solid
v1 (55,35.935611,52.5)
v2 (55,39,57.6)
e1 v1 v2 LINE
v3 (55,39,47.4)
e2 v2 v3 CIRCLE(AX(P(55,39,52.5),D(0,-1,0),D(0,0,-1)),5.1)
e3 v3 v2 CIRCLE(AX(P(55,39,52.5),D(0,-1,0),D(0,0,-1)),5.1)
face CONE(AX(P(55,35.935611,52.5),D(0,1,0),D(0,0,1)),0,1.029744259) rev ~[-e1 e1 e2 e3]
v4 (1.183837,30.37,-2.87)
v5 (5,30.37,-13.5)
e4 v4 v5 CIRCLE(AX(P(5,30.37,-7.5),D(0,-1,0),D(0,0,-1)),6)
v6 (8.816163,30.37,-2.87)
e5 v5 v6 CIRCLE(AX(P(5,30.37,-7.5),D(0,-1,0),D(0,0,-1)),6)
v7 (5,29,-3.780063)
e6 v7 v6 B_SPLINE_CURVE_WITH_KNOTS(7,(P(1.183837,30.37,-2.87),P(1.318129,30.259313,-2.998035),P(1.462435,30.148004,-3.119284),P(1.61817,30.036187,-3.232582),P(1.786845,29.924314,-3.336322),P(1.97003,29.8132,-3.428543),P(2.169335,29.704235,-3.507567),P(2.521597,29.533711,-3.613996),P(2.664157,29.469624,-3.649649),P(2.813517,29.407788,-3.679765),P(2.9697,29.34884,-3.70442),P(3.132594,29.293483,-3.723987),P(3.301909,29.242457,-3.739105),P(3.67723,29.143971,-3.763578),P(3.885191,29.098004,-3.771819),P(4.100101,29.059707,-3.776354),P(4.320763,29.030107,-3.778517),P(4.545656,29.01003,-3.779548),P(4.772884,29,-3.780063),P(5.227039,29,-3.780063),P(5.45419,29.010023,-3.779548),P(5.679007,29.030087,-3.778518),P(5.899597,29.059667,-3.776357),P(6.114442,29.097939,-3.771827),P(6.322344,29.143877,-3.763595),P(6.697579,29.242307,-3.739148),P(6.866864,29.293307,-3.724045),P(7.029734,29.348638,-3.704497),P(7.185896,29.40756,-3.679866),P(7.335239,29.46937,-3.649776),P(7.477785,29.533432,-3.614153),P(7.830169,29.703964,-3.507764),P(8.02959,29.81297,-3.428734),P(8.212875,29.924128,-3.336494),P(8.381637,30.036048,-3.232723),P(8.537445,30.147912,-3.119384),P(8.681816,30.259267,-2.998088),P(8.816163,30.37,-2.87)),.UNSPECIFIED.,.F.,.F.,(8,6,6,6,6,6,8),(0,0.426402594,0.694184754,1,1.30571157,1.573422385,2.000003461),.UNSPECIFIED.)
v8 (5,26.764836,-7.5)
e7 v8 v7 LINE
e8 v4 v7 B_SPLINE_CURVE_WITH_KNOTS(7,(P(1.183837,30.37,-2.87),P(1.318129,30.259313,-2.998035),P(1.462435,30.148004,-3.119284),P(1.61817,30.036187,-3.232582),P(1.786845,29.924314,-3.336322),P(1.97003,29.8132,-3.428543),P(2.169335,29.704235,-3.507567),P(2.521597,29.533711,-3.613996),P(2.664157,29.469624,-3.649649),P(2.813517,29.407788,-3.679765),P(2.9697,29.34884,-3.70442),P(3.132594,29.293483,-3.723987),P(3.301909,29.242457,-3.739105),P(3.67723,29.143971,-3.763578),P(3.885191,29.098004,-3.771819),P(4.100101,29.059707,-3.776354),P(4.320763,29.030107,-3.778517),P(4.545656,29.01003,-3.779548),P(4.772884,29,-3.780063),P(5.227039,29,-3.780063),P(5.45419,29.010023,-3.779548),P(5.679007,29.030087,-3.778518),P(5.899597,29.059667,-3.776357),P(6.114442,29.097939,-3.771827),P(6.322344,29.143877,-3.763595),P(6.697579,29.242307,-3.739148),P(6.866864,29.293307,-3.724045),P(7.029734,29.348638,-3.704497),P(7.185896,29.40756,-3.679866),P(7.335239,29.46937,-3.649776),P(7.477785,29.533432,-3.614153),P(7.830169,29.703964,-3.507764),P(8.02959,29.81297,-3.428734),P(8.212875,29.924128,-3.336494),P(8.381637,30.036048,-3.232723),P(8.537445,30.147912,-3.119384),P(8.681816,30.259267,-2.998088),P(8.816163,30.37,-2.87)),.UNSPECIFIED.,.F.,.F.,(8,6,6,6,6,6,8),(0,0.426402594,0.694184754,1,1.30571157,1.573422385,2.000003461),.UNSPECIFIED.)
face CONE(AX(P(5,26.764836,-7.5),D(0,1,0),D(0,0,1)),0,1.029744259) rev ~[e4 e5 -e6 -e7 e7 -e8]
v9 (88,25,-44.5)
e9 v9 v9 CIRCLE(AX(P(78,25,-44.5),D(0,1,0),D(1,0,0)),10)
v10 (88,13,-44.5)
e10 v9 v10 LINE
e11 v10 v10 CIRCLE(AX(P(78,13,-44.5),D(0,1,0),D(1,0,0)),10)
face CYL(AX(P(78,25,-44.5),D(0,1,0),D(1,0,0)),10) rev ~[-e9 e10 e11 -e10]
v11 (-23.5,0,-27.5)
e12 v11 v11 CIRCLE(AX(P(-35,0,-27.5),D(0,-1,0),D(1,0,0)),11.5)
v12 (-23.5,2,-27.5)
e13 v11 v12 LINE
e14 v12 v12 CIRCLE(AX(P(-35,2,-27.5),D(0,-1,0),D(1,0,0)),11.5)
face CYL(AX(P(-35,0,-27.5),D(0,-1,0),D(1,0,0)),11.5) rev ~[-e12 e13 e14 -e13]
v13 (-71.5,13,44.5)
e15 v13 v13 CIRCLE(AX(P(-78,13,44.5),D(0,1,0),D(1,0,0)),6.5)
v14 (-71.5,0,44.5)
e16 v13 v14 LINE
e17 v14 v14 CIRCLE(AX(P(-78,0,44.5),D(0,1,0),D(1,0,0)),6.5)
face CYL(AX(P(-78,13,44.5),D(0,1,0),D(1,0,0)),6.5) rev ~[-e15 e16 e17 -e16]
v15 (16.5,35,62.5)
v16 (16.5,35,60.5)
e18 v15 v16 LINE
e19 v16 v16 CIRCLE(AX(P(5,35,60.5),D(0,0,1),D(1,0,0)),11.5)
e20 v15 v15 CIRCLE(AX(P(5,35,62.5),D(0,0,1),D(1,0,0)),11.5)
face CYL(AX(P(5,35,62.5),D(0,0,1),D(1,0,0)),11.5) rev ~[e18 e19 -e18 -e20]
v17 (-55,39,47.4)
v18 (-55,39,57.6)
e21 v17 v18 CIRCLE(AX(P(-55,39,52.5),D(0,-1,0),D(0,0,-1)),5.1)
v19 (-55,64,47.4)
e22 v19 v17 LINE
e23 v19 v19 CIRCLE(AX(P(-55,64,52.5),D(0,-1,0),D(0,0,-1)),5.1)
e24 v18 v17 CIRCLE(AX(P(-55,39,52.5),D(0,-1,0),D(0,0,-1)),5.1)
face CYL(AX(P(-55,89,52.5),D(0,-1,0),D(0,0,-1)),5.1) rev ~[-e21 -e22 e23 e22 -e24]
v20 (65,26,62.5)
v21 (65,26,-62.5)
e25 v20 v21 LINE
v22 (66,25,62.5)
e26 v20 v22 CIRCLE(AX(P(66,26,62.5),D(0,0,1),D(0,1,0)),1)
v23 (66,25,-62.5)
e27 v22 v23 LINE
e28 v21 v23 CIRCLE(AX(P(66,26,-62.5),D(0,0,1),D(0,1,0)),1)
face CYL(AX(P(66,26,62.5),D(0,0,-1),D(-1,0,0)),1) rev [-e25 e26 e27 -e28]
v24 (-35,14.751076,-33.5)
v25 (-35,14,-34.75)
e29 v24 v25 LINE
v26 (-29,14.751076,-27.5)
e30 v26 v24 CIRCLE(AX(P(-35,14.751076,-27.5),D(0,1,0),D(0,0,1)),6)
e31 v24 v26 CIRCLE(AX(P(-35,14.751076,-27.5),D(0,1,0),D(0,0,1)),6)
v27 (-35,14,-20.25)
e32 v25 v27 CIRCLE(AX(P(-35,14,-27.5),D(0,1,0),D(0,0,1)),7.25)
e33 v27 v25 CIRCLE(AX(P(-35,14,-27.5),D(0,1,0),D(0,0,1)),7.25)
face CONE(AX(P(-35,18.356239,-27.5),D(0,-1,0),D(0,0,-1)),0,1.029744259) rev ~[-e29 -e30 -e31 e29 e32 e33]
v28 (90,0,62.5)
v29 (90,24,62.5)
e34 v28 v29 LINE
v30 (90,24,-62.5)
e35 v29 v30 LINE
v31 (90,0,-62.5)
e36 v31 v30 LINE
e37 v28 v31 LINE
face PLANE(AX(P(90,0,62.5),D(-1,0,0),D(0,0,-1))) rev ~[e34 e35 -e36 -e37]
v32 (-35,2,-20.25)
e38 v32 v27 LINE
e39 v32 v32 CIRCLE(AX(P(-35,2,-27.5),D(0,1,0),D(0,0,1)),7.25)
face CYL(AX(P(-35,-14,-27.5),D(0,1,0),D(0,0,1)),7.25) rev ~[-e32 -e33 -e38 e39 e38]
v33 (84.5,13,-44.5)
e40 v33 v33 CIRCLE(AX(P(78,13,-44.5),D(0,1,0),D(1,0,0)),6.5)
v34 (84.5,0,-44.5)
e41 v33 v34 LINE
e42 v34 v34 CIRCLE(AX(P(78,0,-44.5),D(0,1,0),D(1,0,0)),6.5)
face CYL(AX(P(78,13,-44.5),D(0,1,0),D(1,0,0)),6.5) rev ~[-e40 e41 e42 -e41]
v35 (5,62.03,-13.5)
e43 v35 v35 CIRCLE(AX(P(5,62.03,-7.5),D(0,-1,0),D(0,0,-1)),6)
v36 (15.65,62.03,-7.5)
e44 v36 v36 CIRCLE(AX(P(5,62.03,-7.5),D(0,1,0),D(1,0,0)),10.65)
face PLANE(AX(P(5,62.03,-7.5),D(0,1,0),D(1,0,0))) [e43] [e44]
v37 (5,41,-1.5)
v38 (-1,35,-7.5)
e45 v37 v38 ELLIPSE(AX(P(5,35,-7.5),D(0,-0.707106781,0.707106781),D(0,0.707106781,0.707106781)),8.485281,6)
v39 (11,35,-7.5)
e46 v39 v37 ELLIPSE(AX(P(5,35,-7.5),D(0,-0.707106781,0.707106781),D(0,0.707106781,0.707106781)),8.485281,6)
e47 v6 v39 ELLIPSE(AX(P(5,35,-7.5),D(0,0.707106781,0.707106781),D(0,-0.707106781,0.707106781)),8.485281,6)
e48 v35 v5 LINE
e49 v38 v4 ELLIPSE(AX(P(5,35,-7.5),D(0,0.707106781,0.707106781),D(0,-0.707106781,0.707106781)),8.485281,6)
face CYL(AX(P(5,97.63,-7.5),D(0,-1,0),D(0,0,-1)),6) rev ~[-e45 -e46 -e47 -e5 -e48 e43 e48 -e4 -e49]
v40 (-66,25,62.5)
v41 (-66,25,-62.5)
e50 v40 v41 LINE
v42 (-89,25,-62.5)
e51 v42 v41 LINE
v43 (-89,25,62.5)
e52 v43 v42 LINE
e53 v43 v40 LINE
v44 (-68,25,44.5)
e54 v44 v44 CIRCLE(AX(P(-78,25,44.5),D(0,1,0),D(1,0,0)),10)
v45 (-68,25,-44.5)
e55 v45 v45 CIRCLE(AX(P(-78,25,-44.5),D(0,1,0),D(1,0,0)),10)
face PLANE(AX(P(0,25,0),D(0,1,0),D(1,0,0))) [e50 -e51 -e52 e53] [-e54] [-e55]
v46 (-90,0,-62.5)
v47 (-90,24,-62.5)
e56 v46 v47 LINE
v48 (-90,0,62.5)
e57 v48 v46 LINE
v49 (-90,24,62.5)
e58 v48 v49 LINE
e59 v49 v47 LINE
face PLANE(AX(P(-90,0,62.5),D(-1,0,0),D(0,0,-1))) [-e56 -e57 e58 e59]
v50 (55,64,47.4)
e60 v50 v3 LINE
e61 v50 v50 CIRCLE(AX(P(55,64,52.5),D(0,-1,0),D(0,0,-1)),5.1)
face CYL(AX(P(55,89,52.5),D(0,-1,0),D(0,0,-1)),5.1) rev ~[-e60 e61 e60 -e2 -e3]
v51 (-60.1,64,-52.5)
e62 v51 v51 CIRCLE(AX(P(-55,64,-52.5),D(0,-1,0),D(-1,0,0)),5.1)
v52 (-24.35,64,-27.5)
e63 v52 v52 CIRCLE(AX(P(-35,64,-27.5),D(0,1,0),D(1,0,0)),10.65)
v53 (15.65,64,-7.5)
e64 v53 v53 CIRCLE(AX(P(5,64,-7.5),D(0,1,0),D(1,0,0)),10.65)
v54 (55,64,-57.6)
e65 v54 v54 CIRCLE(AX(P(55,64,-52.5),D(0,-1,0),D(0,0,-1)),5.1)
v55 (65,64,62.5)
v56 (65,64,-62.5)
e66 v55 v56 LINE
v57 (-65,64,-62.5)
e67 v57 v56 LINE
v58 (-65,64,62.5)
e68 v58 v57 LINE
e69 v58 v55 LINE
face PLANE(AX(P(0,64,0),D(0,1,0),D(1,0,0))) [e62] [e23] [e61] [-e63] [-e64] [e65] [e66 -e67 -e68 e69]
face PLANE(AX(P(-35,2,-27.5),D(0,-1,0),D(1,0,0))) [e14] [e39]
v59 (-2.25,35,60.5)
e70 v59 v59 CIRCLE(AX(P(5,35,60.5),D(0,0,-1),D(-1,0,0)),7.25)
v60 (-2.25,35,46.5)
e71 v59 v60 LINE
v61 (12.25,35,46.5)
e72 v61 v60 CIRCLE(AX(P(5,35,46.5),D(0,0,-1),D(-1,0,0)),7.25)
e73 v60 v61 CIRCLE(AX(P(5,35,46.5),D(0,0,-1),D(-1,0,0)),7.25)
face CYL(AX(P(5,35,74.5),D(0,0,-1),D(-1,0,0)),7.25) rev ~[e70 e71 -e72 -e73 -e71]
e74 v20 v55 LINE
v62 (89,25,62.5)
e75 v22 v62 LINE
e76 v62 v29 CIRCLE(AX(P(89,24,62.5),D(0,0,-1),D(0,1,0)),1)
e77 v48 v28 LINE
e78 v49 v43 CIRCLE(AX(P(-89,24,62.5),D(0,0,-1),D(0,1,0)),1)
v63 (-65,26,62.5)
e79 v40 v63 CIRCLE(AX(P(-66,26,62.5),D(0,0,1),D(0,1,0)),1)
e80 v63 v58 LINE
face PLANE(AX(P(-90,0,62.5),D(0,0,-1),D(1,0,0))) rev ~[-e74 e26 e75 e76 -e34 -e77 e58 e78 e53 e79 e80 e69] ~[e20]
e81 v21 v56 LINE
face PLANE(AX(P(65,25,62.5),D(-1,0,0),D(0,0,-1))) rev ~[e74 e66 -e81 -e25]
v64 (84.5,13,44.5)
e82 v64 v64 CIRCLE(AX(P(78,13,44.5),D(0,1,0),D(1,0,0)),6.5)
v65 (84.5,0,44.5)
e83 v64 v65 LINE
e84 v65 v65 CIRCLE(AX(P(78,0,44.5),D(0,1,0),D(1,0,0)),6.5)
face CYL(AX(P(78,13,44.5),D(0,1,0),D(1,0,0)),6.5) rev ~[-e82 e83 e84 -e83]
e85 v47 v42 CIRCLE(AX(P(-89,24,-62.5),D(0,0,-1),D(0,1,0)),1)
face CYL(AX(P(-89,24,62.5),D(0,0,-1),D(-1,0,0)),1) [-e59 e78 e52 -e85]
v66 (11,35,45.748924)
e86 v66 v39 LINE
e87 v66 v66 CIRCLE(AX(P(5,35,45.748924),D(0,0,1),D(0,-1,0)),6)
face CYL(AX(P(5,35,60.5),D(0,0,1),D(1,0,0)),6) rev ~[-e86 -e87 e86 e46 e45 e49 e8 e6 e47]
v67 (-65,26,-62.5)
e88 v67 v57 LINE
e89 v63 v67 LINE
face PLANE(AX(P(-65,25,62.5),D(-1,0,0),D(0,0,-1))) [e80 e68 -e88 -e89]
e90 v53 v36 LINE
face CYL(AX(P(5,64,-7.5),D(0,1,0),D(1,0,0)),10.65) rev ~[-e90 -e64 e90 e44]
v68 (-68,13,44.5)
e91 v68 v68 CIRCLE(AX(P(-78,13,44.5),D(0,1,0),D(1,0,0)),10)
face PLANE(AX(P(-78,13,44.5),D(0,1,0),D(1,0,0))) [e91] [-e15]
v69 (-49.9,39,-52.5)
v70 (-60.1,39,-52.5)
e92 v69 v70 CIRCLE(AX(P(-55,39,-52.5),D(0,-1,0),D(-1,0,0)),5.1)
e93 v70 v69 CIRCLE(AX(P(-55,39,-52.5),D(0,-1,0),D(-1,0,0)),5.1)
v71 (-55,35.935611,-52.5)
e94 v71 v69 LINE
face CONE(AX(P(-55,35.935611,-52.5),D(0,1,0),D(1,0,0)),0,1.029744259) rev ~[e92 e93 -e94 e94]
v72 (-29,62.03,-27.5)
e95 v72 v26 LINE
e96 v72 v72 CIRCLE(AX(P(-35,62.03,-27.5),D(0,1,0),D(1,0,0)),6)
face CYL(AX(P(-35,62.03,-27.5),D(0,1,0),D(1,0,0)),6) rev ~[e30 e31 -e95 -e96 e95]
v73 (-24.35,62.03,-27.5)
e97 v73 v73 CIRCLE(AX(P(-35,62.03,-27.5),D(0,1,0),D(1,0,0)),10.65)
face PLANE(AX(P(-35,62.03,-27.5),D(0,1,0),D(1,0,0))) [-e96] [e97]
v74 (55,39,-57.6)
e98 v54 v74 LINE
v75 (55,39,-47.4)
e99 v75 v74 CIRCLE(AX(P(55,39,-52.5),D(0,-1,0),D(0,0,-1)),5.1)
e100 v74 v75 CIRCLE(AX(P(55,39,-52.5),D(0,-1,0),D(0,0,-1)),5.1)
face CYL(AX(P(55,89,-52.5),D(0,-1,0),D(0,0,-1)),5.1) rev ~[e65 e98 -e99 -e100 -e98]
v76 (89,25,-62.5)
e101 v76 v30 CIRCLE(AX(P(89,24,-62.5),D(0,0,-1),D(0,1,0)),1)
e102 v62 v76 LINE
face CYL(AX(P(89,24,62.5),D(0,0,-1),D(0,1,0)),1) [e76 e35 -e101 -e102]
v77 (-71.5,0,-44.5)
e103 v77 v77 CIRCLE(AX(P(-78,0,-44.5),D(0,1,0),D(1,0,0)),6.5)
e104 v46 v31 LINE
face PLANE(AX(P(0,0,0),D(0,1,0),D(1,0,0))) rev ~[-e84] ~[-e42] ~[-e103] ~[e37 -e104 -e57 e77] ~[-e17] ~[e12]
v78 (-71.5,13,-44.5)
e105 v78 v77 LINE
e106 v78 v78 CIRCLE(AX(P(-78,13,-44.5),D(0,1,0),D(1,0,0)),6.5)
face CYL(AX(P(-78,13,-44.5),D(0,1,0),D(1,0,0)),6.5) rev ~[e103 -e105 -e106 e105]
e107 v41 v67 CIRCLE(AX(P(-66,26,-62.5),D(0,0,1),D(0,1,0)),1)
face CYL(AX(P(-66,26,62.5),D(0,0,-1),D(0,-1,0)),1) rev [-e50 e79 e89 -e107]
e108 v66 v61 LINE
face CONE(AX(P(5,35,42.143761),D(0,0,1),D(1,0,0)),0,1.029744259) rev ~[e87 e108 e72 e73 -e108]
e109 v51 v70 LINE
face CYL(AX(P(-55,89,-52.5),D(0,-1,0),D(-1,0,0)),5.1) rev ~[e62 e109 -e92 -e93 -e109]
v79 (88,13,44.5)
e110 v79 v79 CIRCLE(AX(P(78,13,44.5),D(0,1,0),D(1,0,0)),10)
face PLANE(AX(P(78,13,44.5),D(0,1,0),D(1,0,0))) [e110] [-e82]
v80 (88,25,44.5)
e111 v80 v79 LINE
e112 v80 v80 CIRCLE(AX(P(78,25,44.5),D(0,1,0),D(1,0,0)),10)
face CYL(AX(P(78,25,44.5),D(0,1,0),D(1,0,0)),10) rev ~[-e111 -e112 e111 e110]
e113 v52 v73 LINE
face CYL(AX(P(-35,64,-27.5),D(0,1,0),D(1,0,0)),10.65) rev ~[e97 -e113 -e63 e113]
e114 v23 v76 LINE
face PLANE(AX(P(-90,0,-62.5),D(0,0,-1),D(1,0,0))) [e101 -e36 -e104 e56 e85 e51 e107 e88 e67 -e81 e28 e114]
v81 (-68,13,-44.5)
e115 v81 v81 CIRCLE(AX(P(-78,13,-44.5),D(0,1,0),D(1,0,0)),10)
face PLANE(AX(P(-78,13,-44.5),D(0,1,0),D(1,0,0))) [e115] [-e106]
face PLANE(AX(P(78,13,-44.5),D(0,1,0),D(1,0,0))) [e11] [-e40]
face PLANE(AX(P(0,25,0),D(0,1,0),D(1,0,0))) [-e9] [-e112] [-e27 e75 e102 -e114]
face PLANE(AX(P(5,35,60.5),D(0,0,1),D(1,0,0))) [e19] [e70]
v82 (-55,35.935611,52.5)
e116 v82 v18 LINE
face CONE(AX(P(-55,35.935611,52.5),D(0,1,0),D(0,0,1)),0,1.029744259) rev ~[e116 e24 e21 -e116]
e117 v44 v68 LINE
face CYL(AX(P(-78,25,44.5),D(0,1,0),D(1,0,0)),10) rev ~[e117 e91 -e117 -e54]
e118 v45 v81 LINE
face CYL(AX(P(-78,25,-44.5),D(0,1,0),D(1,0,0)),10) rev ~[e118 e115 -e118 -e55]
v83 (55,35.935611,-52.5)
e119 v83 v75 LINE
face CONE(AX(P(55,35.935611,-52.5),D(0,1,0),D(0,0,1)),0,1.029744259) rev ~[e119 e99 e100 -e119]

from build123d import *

# Parameters (mm, degrees)
SKETCH_1_W              = 180
SKETCH_1_H              = 125
EXTRUDE_1_DEPTH         = 25
SKETCH_2_W              = 130
SKETCH_2_H              = 125
EXTRUDE_2_DEPTH         = 39
SKETCH_3_R              = 10
CUT_EXTRUDE_1_DEPTH     = 12
SKETCH_4_R              = 10
CUT_EXTRUDE_2_DEPTH     = 12
SKETCH_6_R              = 10
CUT_EXTRUDE_3_DEPTH     = 12
SKETCH_7_R              = 10
CUT_EXTRUDE_4_DEPTH     = 12
SKETCH_9_R              = 6.5
CUT_EXTRUDE_6_DEPTH     = 13
SKETCH_10_R             = 6.5
CUT_EXTRUDE_7_DEPTH     = 13
SKETCH_11_R             = 6.5
CUT_EXTRUDE_8_DEPTH     = 13
SKETCH_12_R             = 6.5
CUT_EXTRUDE_9_DEPTH     = 13
HOLE_WIZARD_M12_1_D     = 10.2
HOLE_WIZARD_M12_1_DEPTH = 25
HOLE_WIZARD_M12_1_TIP   = 3.064389157
HOLE_WIZARD_M12_2_D     = 10.2
HOLE_WIZARD_M12_2_DEPTH = 25
HOLE_WIZARD_M12_2_TIP   = 3.064389157
HOLE_WIZARD_M12_3_D     = 10.2
HOLE_WIZARD_M12_3_DEPTH = 25
HOLE_WIZARD_M12_3_TIP   = 3.064389157
HOLE_WIZARD_M12_4_D     = 10.2
HOLE_WIZARD_M12_4_DEPTH = 25
HOLE_WIZARD_M12_4_TIP   = 3.064389157
SKETCH_23_R             = 10.65
CUT_EXTRUDE_12_DEPTH    = 2
HOLE_WIZARD_M12_5_D     = 10.2
HOLE_WIZARD_M12_5_DEPTH = 25
HOLE_WIZARD_M12_5_TIP   = 3.064389157
HOLE_WIZARD_M12_6_D     = 10.2
HOLE_WIZARD_M12_6_DEPTH = 25
HOLE_WIZARD_M12_6_TIP   = 3.064389157
HOLE_WIZARD_M12_7_D     = 10.2
HOLE_WIZARD_M12_7_DEPTH = 25
HOLE_WIZARD_M12_7_TIP   = 3.064389157
FILLET_7_R              = 1
FILLET_8_R              = 1
FILLET_10_R             = 1
SKETCH_33_R             = 10.65
CUT_EXTRUDE_13_DEPTH    = 1.97
SKETCH_36_R             = 11.5
CUT_EXTRUDE_15_DEPTH    = 2
M16X1_5_2_D             = 14.5
M16X1_5_2_DEPTH         = 14
M16X1_5_2_TIP           = 4.356239488
SKETCH_38_R             = 6
CUT_EXTRUDE_16_DEPTH    = 63.03
MM_1_D                  = 12
MM_1_DEPTH              = 33.63
MM_1_TIP                = 3.605163714
SKETCH_41_R             = 11.5
CUT_EXTRUDE_17_DEPTH    = 2
SKETCH_39_R             = 10.65
CUT_EXTRUDE_18_DEPTH    = 1.97
CUT_EXTRUDE_19_REACH    = 125
SKETCH_42_R             = 6
M16X1_5_3_D             = 14.5
M16X1_5_3_DEPTH         = 14
M16X1_5_3_TIP           = 4.356239488
FILLET_11_R             = 1


with BuildPart() as part:
    # 草图1 → 凸台-拉伸1 (new body)
    with BuildSketch(Plane(origin=(0, 0, 0), x_dir=(1, 0, 0), z_dir=(0, 1, 0))):
        Rectangle(SKETCH_1_W, SKETCH_1_H)
    extrude(amount=EXTRUDE_1_DEPTH)

    # 草图2 → 凸台-拉伸2 (add)
    with BuildSketch(Plane(origin=(0, 25, 0), x_dir=(1, 0, 0), z_dir=(0, 1, 0))):
        Rectangle(SKETCH_2_W, SKETCH_2_H)
    extrude(amount=EXTRUDE_2_DEPTH)

    # 草图3 → 切除-拉伸1 (cut)
    with BuildSketch(Plane(origin=(0, 25, 0), x_dir=(1, 0, 0), z_dir=(0, 1, 0))):
        with Locations((-78, 44.5)):
            Circle(SKETCH_3_R)
    extrude(amount=-CUT_EXTRUDE_1_DEPTH, mode=Mode.SUBTRACT)

    # 草图4 → 切除-拉伸2 (cut)
    with BuildSketch(Plane(origin=(0, 25, 0), x_dir=(1, 0, 0), z_dir=(0, 1, 0))):
        with Locations((78, 44.5)):
            Circle(SKETCH_4_R)
    extrude(amount=-CUT_EXTRUDE_2_DEPTH, mode=Mode.SUBTRACT)

    # 草图6 → 切除-拉伸3 (cut)
    with BuildSketch(Plane(origin=(0, 25, 0), x_dir=(1, 0, 0), z_dir=(0, 1, 0))):
        with Locations((-78, -44.5)):
            Circle(SKETCH_6_R)
    extrude(amount=-CUT_EXTRUDE_3_DEPTH, mode=Mode.SUBTRACT)

    # 草图7 → 切除-拉伸4 (cut)
    with BuildSketch(Plane(origin=(0, 25, 0), x_dir=(1, 0, 0), z_dir=(0, 1, 0))):
        with Locations((78, -44.5)):
            Circle(SKETCH_7_R)
    extrude(amount=-CUT_EXTRUDE_4_DEPTH, mode=Mode.SUBTRACT)

    # 草图9 → 切除-拉伸6 (cut)
    with BuildSketch(Plane(origin=(0, 13, 0), x_dir=(1, 0, 0), z_dir=(0, 1, 0))):
        with Locations((-78, -44.5)):
            Circle(SKETCH_9_R)
    extrude(amount=-CUT_EXTRUDE_6_DEPTH, mode=Mode.SUBTRACT)

    # 草图10 → 切除-拉伸7 (cut)
    with BuildSketch(Plane(origin=(0, 13, 0), x_dir=(1, 0, 0), z_dir=(0, 1, 0))):
        with Locations((-78, 44.5)):
            Circle(SKETCH_10_R)
    extrude(amount=-CUT_EXTRUDE_7_DEPTH, mode=Mode.SUBTRACT)

    # 草图11 → 切除-拉伸8 (cut)
    with BuildSketch(Plane(origin=(0, 13, 0), x_dir=(1, 0, 0), z_dir=(0, 1, 0))):
        with Locations((78, 44.5)):
            Circle(SKETCH_11_R)
    extrude(amount=-CUT_EXTRUDE_8_DEPTH, mode=Mode.SUBTRACT)

    # 草图12 → 切除-拉伸9 (cut)
    with BuildSketch(Plane(origin=(0, 13, 0), x_dir=(1, 0, 0), z_dir=(0, 1, 0))):
        with Locations((78, -44.5)):
            Circle(SKETCH_12_R)
    extrude(amount=-CUT_EXTRUDE_9_DEPTH, mode=Mode.SUBTRACT)

    # M12 螺纹孔1
    with Locations(Plane(origin=(0, 64, 0), x_dir=(1, 0, 0), z_dir=(0, 1, 0))):
        with Locations((-55, 52.5)):
            Hole(HOLE_WIZARD_M12_1_D / 2, depth=HOLE_WIZARD_M12_1_DEPTH)
            with Locations((0, 0, -(HOLE_WIZARD_M12_1_DEPTH + HOLE_WIZARD_M12_1_TIP / 2))):  # 118° drill point
                Cone(0, HOLE_WIZARD_M12_1_D / 2, HOLE_WIZARD_M12_1_TIP, mode=Mode.SUBTRACT)

    # M12 螺纹孔2
    with Locations(Plane(origin=(55, 64, -52.5), x_dir=(0, 0, 1), z_dir=(0, 1, 0))):
        with Locations((0, 0)):
            Hole(HOLE_WIZARD_M12_2_D / 2, depth=HOLE_WIZARD_M12_2_DEPTH)
            with Locations((0, 0, -(HOLE_WIZARD_M12_2_DEPTH + HOLE_WIZARD_M12_2_TIP / 2))):  # 118° drill point
                Cone(0, HOLE_WIZARD_M12_2_D / 2, HOLE_WIZARD_M12_2_TIP, mode=Mode.SUBTRACT)

    # M12 螺纹孔3
    with Locations(Plane(origin=(-55, 64, 52.5), x_dir=(0, 0, 1), z_dir=(0, 1, 0))):
        with Locations((0, 0)):
            Hole(HOLE_WIZARD_M12_3_D / 2, depth=HOLE_WIZARD_M12_3_DEPTH)
            with Locations((0, 0, -(HOLE_WIZARD_M12_3_DEPTH + HOLE_WIZARD_M12_3_TIP / 2))):  # 118° drill point
                Cone(0, HOLE_WIZARD_M12_3_D / 2, HOLE_WIZARD_M12_3_TIP, mode=Mode.SUBTRACT)

    # M12 螺纹孔4
    with Locations(Plane(origin=(55, 64, 52.5), x_dir=(0, 0, 1), z_dir=(0, 1, 0))):
        with Locations((0, 0)):
            Hole(HOLE_WIZARD_M12_4_D / 2, depth=HOLE_WIZARD_M12_4_DEPTH)
            with Locations((0, 0, -(HOLE_WIZARD_M12_4_DEPTH + HOLE_WIZARD_M12_4_TIP / 2))):  # 118° drill point
                Cone(0, HOLE_WIZARD_M12_4_D / 2, HOLE_WIZARD_M12_4_TIP, mode=Mode.SUBTRACT)

    # 草图23 → 切除-拉伸12 (cut)
    with BuildSketch(Plane.XZ):
        with Locations((-35, -27.5)):
            Circle(SKETCH_23_R)
    extrude(amount=-CUT_EXTRUDE_12_DEPTH, mode=Mode.SUBTRACT)

    # M12 螺纹孔5
    with Locations(Plane(origin=(55, 64, -52.5), x_dir=(0, 0, 1), z_dir=(0, 1, 0))):
        with Locations((0, 0)):
            Hole(HOLE_WIZARD_M12_5_D / 2, depth=HOLE_WIZARD_M12_5_DEPTH)
            with Locations((0, 0, -(HOLE_WIZARD_M12_5_DEPTH + HOLE_WIZARD_M12_5_TIP / 2))):  # 118° drill point
                Cone(0, HOLE_WIZARD_M12_5_D / 2, HOLE_WIZARD_M12_5_TIP, mode=Mode.SUBTRACT)

    # M12 螺纹孔6
    with Locations(Plane(origin=(-55, 64, 52.5), x_dir=(0, 0, 1), z_dir=(0, 1, 0))):
        with Locations((0, 0)):
            Hole(HOLE_WIZARD_M12_6_D / 2, depth=HOLE_WIZARD_M12_6_DEPTH)
            with Locations((0, 0, -(HOLE_WIZARD_M12_6_DEPTH + HOLE_WIZARD_M12_6_TIP / 2))):  # 118° drill point
                Cone(0, HOLE_WIZARD_M12_6_D / 2, HOLE_WIZARD_M12_6_TIP, mode=Mode.SUBTRACT)

    # M12 螺纹孔7
    with Locations(Plane(origin=(55, 64, 52.5), x_dir=(0, 0, 1), z_dir=(0, 1, 0))):
        with Locations((0, 0)):
            Hole(HOLE_WIZARD_M12_7_D / 2, depth=HOLE_WIZARD_M12_7_DEPTH)
            with Locations((0, 0, -(HOLE_WIZARD_M12_7_DEPTH + HOLE_WIZARD_M12_7_TIP / 2))):  # 118° drill point
                Cone(0, HOLE_WIZARD_M12_7_D / 2, HOLE_WIZARD_M12_7_TIP, mode=Mode.SUBTRACT)

    # 圆角7
    fillet_7_edges = [part.edges().sort_by_distance(p)[0] for p in [
        (-90, 25, 0),
    ]]
    fillet(fillet_7_edges, radius=FILLET_7_R)

    # 圆角8
    fillet_8_edges = [part.edges().sort_by_distance(p)[0] for p in [
        (-65, 25, 0),
    ]]
    fillet(fillet_8_edges, radius=FILLET_8_R)

    # 圆角10
    fillet_10_edges = [part.edges().sort_by_distance(p)[0] for p in [
        (65, 25, 0),
    ]]
    fillet(fillet_10_edges, radius=FILLET_10_R)

    # 草图33 → 切除-拉伸13 (cut)
    with BuildSketch(Plane(origin=(0, 64, 0), x_dir=(1, 0, 0), z_dir=(0, 1, 0))):
        with Locations((-35, 27.5)):
            Circle(SKETCH_33_R)
    extrude(amount=-CUT_EXTRUDE_13_DEPTH, mode=Mode.SUBTRACT)

    # 草图36 → 切除-拉伸15 (cut)
    with BuildSketch(Plane.XZ):
        with Locations((-35, -27.5)):
            Circle(SKETCH_36_R)
    extrude(amount=-CUT_EXTRUDE_15_DEPTH, mode=Mode.SUBTRACT)

    # M16x1.5 螺纹孔2
    with Locations(Plane(origin=(-35, 0, -27.5), x_dir=(0, 0, -1), z_dir=(0, -1, 0))):
        with Locations((0, 0)):
            Hole(M16X1_5_2_D / 2, depth=M16X1_5_2_DEPTH)
            with Locations((0, 0, -(M16X1_5_2_DEPTH + M16X1_5_2_TIP / 2))):  # 118° drill point
                Cone(0, M16X1_5_2_D / 2, M16X1_5_2_TIP, mode=Mode.SUBTRACT)

    # 草图38 → 切除-拉伸16 (cut, through all)
    with BuildSketch(Plane(origin=(0, 62.03, 0), x_dir=(1, 0, 0), z_dir=(0, 1, 0))):
        with Locations((-35, 27.5)):
            Circle(SKETCH_38_R)
    extrude(amount=-CUT_EXTRUDE_16_DEPTH, mode=Mode.SUBTRACT)

    # 大小mm 暗销孔1
    with Locations(Plane(origin=(5, 64, -7.5), x_dir=(0, 0, 1), z_dir=(0, 1, 0))):
        with Locations((0, 0)):
            Hole(MM_1_D / 2, depth=MM_1_DEPTH)
            with Locations((0, 0, -(MM_1_DEPTH + MM_1_TIP / 2))):  # 118° drill point
                Cone(0, MM_1_D / 2, MM_1_TIP, mode=Mode.SUBTRACT)

    # 草图41 → 切除-拉伸17 (cut)
    with BuildSketch(Plane.XY.offset(62.5)):
        with Locations((5, 35)):
            Circle(SKETCH_41_R)
    extrude(amount=-CUT_EXTRUDE_17_DEPTH, mode=Mode.SUBTRACT)

    # 草图39 → 切除-拉伸18 (cut)
    with BuildSketch(Plane(origin=(0, 64, 0), x_dir=(1, 0, 0), z_dir=(0, 1, 0))):
        with Locations((5, 7.5)):
            Circle(SKETCH_39_R)
    extrude(amount=-CUT_EXTRUDE_18_DEPTH, mode=Mode.SUBTRACT)

    # 草图42 → 切除-拉伸19 (cut, up to next)
    with BuildSketch(Plane.XY.offset(60.5), mode=Mode.PRIVATE) as cut_extrude_19_sk1:
        with Locations((5, 35)):
            Circle(SKETCH_42_R)
    cut_extrude_19_tool1 = extrude(cut_extrude_19_sk1.sketch, amount=-CUT_EXTRUDE_19_REACH, mode=Mode.PRIVATE) & part.part
    add(cut_extrude_19_tool1.solids().sort_by_distance((5, 35, 60.5))[0], mode=Mode.SUBTRACT)

    # M16x1.5 螺纹孔3
    with Locations(Plane(origin=(5, 35, 60.5), x_dir=(1, 0, 0), z_dir=(0, 0, 1))):
        with Locations((0, 0)):
            Hole(M16X1_5_3_D / 2, depth=M16X1_5_3_DEPTH)
            with Locations((0, 0, -(M16X1_5_3_DEPTH + M16X1_5_3_TIP / 2))):  # 118° drill point
                Cone(0, M16X1_5_3_D / 2, M16X1_5_3_TIP, mode=Mode.SUBTRACT)

    # 圆角11
    fillet_11_edges = [part.edges().sort_by_distance(p)[0] for p in [
        (90, 25, 0),
    ]]
    fillet(fillet_11_edges, radius=FILLET_11_R)


solid = part.part
